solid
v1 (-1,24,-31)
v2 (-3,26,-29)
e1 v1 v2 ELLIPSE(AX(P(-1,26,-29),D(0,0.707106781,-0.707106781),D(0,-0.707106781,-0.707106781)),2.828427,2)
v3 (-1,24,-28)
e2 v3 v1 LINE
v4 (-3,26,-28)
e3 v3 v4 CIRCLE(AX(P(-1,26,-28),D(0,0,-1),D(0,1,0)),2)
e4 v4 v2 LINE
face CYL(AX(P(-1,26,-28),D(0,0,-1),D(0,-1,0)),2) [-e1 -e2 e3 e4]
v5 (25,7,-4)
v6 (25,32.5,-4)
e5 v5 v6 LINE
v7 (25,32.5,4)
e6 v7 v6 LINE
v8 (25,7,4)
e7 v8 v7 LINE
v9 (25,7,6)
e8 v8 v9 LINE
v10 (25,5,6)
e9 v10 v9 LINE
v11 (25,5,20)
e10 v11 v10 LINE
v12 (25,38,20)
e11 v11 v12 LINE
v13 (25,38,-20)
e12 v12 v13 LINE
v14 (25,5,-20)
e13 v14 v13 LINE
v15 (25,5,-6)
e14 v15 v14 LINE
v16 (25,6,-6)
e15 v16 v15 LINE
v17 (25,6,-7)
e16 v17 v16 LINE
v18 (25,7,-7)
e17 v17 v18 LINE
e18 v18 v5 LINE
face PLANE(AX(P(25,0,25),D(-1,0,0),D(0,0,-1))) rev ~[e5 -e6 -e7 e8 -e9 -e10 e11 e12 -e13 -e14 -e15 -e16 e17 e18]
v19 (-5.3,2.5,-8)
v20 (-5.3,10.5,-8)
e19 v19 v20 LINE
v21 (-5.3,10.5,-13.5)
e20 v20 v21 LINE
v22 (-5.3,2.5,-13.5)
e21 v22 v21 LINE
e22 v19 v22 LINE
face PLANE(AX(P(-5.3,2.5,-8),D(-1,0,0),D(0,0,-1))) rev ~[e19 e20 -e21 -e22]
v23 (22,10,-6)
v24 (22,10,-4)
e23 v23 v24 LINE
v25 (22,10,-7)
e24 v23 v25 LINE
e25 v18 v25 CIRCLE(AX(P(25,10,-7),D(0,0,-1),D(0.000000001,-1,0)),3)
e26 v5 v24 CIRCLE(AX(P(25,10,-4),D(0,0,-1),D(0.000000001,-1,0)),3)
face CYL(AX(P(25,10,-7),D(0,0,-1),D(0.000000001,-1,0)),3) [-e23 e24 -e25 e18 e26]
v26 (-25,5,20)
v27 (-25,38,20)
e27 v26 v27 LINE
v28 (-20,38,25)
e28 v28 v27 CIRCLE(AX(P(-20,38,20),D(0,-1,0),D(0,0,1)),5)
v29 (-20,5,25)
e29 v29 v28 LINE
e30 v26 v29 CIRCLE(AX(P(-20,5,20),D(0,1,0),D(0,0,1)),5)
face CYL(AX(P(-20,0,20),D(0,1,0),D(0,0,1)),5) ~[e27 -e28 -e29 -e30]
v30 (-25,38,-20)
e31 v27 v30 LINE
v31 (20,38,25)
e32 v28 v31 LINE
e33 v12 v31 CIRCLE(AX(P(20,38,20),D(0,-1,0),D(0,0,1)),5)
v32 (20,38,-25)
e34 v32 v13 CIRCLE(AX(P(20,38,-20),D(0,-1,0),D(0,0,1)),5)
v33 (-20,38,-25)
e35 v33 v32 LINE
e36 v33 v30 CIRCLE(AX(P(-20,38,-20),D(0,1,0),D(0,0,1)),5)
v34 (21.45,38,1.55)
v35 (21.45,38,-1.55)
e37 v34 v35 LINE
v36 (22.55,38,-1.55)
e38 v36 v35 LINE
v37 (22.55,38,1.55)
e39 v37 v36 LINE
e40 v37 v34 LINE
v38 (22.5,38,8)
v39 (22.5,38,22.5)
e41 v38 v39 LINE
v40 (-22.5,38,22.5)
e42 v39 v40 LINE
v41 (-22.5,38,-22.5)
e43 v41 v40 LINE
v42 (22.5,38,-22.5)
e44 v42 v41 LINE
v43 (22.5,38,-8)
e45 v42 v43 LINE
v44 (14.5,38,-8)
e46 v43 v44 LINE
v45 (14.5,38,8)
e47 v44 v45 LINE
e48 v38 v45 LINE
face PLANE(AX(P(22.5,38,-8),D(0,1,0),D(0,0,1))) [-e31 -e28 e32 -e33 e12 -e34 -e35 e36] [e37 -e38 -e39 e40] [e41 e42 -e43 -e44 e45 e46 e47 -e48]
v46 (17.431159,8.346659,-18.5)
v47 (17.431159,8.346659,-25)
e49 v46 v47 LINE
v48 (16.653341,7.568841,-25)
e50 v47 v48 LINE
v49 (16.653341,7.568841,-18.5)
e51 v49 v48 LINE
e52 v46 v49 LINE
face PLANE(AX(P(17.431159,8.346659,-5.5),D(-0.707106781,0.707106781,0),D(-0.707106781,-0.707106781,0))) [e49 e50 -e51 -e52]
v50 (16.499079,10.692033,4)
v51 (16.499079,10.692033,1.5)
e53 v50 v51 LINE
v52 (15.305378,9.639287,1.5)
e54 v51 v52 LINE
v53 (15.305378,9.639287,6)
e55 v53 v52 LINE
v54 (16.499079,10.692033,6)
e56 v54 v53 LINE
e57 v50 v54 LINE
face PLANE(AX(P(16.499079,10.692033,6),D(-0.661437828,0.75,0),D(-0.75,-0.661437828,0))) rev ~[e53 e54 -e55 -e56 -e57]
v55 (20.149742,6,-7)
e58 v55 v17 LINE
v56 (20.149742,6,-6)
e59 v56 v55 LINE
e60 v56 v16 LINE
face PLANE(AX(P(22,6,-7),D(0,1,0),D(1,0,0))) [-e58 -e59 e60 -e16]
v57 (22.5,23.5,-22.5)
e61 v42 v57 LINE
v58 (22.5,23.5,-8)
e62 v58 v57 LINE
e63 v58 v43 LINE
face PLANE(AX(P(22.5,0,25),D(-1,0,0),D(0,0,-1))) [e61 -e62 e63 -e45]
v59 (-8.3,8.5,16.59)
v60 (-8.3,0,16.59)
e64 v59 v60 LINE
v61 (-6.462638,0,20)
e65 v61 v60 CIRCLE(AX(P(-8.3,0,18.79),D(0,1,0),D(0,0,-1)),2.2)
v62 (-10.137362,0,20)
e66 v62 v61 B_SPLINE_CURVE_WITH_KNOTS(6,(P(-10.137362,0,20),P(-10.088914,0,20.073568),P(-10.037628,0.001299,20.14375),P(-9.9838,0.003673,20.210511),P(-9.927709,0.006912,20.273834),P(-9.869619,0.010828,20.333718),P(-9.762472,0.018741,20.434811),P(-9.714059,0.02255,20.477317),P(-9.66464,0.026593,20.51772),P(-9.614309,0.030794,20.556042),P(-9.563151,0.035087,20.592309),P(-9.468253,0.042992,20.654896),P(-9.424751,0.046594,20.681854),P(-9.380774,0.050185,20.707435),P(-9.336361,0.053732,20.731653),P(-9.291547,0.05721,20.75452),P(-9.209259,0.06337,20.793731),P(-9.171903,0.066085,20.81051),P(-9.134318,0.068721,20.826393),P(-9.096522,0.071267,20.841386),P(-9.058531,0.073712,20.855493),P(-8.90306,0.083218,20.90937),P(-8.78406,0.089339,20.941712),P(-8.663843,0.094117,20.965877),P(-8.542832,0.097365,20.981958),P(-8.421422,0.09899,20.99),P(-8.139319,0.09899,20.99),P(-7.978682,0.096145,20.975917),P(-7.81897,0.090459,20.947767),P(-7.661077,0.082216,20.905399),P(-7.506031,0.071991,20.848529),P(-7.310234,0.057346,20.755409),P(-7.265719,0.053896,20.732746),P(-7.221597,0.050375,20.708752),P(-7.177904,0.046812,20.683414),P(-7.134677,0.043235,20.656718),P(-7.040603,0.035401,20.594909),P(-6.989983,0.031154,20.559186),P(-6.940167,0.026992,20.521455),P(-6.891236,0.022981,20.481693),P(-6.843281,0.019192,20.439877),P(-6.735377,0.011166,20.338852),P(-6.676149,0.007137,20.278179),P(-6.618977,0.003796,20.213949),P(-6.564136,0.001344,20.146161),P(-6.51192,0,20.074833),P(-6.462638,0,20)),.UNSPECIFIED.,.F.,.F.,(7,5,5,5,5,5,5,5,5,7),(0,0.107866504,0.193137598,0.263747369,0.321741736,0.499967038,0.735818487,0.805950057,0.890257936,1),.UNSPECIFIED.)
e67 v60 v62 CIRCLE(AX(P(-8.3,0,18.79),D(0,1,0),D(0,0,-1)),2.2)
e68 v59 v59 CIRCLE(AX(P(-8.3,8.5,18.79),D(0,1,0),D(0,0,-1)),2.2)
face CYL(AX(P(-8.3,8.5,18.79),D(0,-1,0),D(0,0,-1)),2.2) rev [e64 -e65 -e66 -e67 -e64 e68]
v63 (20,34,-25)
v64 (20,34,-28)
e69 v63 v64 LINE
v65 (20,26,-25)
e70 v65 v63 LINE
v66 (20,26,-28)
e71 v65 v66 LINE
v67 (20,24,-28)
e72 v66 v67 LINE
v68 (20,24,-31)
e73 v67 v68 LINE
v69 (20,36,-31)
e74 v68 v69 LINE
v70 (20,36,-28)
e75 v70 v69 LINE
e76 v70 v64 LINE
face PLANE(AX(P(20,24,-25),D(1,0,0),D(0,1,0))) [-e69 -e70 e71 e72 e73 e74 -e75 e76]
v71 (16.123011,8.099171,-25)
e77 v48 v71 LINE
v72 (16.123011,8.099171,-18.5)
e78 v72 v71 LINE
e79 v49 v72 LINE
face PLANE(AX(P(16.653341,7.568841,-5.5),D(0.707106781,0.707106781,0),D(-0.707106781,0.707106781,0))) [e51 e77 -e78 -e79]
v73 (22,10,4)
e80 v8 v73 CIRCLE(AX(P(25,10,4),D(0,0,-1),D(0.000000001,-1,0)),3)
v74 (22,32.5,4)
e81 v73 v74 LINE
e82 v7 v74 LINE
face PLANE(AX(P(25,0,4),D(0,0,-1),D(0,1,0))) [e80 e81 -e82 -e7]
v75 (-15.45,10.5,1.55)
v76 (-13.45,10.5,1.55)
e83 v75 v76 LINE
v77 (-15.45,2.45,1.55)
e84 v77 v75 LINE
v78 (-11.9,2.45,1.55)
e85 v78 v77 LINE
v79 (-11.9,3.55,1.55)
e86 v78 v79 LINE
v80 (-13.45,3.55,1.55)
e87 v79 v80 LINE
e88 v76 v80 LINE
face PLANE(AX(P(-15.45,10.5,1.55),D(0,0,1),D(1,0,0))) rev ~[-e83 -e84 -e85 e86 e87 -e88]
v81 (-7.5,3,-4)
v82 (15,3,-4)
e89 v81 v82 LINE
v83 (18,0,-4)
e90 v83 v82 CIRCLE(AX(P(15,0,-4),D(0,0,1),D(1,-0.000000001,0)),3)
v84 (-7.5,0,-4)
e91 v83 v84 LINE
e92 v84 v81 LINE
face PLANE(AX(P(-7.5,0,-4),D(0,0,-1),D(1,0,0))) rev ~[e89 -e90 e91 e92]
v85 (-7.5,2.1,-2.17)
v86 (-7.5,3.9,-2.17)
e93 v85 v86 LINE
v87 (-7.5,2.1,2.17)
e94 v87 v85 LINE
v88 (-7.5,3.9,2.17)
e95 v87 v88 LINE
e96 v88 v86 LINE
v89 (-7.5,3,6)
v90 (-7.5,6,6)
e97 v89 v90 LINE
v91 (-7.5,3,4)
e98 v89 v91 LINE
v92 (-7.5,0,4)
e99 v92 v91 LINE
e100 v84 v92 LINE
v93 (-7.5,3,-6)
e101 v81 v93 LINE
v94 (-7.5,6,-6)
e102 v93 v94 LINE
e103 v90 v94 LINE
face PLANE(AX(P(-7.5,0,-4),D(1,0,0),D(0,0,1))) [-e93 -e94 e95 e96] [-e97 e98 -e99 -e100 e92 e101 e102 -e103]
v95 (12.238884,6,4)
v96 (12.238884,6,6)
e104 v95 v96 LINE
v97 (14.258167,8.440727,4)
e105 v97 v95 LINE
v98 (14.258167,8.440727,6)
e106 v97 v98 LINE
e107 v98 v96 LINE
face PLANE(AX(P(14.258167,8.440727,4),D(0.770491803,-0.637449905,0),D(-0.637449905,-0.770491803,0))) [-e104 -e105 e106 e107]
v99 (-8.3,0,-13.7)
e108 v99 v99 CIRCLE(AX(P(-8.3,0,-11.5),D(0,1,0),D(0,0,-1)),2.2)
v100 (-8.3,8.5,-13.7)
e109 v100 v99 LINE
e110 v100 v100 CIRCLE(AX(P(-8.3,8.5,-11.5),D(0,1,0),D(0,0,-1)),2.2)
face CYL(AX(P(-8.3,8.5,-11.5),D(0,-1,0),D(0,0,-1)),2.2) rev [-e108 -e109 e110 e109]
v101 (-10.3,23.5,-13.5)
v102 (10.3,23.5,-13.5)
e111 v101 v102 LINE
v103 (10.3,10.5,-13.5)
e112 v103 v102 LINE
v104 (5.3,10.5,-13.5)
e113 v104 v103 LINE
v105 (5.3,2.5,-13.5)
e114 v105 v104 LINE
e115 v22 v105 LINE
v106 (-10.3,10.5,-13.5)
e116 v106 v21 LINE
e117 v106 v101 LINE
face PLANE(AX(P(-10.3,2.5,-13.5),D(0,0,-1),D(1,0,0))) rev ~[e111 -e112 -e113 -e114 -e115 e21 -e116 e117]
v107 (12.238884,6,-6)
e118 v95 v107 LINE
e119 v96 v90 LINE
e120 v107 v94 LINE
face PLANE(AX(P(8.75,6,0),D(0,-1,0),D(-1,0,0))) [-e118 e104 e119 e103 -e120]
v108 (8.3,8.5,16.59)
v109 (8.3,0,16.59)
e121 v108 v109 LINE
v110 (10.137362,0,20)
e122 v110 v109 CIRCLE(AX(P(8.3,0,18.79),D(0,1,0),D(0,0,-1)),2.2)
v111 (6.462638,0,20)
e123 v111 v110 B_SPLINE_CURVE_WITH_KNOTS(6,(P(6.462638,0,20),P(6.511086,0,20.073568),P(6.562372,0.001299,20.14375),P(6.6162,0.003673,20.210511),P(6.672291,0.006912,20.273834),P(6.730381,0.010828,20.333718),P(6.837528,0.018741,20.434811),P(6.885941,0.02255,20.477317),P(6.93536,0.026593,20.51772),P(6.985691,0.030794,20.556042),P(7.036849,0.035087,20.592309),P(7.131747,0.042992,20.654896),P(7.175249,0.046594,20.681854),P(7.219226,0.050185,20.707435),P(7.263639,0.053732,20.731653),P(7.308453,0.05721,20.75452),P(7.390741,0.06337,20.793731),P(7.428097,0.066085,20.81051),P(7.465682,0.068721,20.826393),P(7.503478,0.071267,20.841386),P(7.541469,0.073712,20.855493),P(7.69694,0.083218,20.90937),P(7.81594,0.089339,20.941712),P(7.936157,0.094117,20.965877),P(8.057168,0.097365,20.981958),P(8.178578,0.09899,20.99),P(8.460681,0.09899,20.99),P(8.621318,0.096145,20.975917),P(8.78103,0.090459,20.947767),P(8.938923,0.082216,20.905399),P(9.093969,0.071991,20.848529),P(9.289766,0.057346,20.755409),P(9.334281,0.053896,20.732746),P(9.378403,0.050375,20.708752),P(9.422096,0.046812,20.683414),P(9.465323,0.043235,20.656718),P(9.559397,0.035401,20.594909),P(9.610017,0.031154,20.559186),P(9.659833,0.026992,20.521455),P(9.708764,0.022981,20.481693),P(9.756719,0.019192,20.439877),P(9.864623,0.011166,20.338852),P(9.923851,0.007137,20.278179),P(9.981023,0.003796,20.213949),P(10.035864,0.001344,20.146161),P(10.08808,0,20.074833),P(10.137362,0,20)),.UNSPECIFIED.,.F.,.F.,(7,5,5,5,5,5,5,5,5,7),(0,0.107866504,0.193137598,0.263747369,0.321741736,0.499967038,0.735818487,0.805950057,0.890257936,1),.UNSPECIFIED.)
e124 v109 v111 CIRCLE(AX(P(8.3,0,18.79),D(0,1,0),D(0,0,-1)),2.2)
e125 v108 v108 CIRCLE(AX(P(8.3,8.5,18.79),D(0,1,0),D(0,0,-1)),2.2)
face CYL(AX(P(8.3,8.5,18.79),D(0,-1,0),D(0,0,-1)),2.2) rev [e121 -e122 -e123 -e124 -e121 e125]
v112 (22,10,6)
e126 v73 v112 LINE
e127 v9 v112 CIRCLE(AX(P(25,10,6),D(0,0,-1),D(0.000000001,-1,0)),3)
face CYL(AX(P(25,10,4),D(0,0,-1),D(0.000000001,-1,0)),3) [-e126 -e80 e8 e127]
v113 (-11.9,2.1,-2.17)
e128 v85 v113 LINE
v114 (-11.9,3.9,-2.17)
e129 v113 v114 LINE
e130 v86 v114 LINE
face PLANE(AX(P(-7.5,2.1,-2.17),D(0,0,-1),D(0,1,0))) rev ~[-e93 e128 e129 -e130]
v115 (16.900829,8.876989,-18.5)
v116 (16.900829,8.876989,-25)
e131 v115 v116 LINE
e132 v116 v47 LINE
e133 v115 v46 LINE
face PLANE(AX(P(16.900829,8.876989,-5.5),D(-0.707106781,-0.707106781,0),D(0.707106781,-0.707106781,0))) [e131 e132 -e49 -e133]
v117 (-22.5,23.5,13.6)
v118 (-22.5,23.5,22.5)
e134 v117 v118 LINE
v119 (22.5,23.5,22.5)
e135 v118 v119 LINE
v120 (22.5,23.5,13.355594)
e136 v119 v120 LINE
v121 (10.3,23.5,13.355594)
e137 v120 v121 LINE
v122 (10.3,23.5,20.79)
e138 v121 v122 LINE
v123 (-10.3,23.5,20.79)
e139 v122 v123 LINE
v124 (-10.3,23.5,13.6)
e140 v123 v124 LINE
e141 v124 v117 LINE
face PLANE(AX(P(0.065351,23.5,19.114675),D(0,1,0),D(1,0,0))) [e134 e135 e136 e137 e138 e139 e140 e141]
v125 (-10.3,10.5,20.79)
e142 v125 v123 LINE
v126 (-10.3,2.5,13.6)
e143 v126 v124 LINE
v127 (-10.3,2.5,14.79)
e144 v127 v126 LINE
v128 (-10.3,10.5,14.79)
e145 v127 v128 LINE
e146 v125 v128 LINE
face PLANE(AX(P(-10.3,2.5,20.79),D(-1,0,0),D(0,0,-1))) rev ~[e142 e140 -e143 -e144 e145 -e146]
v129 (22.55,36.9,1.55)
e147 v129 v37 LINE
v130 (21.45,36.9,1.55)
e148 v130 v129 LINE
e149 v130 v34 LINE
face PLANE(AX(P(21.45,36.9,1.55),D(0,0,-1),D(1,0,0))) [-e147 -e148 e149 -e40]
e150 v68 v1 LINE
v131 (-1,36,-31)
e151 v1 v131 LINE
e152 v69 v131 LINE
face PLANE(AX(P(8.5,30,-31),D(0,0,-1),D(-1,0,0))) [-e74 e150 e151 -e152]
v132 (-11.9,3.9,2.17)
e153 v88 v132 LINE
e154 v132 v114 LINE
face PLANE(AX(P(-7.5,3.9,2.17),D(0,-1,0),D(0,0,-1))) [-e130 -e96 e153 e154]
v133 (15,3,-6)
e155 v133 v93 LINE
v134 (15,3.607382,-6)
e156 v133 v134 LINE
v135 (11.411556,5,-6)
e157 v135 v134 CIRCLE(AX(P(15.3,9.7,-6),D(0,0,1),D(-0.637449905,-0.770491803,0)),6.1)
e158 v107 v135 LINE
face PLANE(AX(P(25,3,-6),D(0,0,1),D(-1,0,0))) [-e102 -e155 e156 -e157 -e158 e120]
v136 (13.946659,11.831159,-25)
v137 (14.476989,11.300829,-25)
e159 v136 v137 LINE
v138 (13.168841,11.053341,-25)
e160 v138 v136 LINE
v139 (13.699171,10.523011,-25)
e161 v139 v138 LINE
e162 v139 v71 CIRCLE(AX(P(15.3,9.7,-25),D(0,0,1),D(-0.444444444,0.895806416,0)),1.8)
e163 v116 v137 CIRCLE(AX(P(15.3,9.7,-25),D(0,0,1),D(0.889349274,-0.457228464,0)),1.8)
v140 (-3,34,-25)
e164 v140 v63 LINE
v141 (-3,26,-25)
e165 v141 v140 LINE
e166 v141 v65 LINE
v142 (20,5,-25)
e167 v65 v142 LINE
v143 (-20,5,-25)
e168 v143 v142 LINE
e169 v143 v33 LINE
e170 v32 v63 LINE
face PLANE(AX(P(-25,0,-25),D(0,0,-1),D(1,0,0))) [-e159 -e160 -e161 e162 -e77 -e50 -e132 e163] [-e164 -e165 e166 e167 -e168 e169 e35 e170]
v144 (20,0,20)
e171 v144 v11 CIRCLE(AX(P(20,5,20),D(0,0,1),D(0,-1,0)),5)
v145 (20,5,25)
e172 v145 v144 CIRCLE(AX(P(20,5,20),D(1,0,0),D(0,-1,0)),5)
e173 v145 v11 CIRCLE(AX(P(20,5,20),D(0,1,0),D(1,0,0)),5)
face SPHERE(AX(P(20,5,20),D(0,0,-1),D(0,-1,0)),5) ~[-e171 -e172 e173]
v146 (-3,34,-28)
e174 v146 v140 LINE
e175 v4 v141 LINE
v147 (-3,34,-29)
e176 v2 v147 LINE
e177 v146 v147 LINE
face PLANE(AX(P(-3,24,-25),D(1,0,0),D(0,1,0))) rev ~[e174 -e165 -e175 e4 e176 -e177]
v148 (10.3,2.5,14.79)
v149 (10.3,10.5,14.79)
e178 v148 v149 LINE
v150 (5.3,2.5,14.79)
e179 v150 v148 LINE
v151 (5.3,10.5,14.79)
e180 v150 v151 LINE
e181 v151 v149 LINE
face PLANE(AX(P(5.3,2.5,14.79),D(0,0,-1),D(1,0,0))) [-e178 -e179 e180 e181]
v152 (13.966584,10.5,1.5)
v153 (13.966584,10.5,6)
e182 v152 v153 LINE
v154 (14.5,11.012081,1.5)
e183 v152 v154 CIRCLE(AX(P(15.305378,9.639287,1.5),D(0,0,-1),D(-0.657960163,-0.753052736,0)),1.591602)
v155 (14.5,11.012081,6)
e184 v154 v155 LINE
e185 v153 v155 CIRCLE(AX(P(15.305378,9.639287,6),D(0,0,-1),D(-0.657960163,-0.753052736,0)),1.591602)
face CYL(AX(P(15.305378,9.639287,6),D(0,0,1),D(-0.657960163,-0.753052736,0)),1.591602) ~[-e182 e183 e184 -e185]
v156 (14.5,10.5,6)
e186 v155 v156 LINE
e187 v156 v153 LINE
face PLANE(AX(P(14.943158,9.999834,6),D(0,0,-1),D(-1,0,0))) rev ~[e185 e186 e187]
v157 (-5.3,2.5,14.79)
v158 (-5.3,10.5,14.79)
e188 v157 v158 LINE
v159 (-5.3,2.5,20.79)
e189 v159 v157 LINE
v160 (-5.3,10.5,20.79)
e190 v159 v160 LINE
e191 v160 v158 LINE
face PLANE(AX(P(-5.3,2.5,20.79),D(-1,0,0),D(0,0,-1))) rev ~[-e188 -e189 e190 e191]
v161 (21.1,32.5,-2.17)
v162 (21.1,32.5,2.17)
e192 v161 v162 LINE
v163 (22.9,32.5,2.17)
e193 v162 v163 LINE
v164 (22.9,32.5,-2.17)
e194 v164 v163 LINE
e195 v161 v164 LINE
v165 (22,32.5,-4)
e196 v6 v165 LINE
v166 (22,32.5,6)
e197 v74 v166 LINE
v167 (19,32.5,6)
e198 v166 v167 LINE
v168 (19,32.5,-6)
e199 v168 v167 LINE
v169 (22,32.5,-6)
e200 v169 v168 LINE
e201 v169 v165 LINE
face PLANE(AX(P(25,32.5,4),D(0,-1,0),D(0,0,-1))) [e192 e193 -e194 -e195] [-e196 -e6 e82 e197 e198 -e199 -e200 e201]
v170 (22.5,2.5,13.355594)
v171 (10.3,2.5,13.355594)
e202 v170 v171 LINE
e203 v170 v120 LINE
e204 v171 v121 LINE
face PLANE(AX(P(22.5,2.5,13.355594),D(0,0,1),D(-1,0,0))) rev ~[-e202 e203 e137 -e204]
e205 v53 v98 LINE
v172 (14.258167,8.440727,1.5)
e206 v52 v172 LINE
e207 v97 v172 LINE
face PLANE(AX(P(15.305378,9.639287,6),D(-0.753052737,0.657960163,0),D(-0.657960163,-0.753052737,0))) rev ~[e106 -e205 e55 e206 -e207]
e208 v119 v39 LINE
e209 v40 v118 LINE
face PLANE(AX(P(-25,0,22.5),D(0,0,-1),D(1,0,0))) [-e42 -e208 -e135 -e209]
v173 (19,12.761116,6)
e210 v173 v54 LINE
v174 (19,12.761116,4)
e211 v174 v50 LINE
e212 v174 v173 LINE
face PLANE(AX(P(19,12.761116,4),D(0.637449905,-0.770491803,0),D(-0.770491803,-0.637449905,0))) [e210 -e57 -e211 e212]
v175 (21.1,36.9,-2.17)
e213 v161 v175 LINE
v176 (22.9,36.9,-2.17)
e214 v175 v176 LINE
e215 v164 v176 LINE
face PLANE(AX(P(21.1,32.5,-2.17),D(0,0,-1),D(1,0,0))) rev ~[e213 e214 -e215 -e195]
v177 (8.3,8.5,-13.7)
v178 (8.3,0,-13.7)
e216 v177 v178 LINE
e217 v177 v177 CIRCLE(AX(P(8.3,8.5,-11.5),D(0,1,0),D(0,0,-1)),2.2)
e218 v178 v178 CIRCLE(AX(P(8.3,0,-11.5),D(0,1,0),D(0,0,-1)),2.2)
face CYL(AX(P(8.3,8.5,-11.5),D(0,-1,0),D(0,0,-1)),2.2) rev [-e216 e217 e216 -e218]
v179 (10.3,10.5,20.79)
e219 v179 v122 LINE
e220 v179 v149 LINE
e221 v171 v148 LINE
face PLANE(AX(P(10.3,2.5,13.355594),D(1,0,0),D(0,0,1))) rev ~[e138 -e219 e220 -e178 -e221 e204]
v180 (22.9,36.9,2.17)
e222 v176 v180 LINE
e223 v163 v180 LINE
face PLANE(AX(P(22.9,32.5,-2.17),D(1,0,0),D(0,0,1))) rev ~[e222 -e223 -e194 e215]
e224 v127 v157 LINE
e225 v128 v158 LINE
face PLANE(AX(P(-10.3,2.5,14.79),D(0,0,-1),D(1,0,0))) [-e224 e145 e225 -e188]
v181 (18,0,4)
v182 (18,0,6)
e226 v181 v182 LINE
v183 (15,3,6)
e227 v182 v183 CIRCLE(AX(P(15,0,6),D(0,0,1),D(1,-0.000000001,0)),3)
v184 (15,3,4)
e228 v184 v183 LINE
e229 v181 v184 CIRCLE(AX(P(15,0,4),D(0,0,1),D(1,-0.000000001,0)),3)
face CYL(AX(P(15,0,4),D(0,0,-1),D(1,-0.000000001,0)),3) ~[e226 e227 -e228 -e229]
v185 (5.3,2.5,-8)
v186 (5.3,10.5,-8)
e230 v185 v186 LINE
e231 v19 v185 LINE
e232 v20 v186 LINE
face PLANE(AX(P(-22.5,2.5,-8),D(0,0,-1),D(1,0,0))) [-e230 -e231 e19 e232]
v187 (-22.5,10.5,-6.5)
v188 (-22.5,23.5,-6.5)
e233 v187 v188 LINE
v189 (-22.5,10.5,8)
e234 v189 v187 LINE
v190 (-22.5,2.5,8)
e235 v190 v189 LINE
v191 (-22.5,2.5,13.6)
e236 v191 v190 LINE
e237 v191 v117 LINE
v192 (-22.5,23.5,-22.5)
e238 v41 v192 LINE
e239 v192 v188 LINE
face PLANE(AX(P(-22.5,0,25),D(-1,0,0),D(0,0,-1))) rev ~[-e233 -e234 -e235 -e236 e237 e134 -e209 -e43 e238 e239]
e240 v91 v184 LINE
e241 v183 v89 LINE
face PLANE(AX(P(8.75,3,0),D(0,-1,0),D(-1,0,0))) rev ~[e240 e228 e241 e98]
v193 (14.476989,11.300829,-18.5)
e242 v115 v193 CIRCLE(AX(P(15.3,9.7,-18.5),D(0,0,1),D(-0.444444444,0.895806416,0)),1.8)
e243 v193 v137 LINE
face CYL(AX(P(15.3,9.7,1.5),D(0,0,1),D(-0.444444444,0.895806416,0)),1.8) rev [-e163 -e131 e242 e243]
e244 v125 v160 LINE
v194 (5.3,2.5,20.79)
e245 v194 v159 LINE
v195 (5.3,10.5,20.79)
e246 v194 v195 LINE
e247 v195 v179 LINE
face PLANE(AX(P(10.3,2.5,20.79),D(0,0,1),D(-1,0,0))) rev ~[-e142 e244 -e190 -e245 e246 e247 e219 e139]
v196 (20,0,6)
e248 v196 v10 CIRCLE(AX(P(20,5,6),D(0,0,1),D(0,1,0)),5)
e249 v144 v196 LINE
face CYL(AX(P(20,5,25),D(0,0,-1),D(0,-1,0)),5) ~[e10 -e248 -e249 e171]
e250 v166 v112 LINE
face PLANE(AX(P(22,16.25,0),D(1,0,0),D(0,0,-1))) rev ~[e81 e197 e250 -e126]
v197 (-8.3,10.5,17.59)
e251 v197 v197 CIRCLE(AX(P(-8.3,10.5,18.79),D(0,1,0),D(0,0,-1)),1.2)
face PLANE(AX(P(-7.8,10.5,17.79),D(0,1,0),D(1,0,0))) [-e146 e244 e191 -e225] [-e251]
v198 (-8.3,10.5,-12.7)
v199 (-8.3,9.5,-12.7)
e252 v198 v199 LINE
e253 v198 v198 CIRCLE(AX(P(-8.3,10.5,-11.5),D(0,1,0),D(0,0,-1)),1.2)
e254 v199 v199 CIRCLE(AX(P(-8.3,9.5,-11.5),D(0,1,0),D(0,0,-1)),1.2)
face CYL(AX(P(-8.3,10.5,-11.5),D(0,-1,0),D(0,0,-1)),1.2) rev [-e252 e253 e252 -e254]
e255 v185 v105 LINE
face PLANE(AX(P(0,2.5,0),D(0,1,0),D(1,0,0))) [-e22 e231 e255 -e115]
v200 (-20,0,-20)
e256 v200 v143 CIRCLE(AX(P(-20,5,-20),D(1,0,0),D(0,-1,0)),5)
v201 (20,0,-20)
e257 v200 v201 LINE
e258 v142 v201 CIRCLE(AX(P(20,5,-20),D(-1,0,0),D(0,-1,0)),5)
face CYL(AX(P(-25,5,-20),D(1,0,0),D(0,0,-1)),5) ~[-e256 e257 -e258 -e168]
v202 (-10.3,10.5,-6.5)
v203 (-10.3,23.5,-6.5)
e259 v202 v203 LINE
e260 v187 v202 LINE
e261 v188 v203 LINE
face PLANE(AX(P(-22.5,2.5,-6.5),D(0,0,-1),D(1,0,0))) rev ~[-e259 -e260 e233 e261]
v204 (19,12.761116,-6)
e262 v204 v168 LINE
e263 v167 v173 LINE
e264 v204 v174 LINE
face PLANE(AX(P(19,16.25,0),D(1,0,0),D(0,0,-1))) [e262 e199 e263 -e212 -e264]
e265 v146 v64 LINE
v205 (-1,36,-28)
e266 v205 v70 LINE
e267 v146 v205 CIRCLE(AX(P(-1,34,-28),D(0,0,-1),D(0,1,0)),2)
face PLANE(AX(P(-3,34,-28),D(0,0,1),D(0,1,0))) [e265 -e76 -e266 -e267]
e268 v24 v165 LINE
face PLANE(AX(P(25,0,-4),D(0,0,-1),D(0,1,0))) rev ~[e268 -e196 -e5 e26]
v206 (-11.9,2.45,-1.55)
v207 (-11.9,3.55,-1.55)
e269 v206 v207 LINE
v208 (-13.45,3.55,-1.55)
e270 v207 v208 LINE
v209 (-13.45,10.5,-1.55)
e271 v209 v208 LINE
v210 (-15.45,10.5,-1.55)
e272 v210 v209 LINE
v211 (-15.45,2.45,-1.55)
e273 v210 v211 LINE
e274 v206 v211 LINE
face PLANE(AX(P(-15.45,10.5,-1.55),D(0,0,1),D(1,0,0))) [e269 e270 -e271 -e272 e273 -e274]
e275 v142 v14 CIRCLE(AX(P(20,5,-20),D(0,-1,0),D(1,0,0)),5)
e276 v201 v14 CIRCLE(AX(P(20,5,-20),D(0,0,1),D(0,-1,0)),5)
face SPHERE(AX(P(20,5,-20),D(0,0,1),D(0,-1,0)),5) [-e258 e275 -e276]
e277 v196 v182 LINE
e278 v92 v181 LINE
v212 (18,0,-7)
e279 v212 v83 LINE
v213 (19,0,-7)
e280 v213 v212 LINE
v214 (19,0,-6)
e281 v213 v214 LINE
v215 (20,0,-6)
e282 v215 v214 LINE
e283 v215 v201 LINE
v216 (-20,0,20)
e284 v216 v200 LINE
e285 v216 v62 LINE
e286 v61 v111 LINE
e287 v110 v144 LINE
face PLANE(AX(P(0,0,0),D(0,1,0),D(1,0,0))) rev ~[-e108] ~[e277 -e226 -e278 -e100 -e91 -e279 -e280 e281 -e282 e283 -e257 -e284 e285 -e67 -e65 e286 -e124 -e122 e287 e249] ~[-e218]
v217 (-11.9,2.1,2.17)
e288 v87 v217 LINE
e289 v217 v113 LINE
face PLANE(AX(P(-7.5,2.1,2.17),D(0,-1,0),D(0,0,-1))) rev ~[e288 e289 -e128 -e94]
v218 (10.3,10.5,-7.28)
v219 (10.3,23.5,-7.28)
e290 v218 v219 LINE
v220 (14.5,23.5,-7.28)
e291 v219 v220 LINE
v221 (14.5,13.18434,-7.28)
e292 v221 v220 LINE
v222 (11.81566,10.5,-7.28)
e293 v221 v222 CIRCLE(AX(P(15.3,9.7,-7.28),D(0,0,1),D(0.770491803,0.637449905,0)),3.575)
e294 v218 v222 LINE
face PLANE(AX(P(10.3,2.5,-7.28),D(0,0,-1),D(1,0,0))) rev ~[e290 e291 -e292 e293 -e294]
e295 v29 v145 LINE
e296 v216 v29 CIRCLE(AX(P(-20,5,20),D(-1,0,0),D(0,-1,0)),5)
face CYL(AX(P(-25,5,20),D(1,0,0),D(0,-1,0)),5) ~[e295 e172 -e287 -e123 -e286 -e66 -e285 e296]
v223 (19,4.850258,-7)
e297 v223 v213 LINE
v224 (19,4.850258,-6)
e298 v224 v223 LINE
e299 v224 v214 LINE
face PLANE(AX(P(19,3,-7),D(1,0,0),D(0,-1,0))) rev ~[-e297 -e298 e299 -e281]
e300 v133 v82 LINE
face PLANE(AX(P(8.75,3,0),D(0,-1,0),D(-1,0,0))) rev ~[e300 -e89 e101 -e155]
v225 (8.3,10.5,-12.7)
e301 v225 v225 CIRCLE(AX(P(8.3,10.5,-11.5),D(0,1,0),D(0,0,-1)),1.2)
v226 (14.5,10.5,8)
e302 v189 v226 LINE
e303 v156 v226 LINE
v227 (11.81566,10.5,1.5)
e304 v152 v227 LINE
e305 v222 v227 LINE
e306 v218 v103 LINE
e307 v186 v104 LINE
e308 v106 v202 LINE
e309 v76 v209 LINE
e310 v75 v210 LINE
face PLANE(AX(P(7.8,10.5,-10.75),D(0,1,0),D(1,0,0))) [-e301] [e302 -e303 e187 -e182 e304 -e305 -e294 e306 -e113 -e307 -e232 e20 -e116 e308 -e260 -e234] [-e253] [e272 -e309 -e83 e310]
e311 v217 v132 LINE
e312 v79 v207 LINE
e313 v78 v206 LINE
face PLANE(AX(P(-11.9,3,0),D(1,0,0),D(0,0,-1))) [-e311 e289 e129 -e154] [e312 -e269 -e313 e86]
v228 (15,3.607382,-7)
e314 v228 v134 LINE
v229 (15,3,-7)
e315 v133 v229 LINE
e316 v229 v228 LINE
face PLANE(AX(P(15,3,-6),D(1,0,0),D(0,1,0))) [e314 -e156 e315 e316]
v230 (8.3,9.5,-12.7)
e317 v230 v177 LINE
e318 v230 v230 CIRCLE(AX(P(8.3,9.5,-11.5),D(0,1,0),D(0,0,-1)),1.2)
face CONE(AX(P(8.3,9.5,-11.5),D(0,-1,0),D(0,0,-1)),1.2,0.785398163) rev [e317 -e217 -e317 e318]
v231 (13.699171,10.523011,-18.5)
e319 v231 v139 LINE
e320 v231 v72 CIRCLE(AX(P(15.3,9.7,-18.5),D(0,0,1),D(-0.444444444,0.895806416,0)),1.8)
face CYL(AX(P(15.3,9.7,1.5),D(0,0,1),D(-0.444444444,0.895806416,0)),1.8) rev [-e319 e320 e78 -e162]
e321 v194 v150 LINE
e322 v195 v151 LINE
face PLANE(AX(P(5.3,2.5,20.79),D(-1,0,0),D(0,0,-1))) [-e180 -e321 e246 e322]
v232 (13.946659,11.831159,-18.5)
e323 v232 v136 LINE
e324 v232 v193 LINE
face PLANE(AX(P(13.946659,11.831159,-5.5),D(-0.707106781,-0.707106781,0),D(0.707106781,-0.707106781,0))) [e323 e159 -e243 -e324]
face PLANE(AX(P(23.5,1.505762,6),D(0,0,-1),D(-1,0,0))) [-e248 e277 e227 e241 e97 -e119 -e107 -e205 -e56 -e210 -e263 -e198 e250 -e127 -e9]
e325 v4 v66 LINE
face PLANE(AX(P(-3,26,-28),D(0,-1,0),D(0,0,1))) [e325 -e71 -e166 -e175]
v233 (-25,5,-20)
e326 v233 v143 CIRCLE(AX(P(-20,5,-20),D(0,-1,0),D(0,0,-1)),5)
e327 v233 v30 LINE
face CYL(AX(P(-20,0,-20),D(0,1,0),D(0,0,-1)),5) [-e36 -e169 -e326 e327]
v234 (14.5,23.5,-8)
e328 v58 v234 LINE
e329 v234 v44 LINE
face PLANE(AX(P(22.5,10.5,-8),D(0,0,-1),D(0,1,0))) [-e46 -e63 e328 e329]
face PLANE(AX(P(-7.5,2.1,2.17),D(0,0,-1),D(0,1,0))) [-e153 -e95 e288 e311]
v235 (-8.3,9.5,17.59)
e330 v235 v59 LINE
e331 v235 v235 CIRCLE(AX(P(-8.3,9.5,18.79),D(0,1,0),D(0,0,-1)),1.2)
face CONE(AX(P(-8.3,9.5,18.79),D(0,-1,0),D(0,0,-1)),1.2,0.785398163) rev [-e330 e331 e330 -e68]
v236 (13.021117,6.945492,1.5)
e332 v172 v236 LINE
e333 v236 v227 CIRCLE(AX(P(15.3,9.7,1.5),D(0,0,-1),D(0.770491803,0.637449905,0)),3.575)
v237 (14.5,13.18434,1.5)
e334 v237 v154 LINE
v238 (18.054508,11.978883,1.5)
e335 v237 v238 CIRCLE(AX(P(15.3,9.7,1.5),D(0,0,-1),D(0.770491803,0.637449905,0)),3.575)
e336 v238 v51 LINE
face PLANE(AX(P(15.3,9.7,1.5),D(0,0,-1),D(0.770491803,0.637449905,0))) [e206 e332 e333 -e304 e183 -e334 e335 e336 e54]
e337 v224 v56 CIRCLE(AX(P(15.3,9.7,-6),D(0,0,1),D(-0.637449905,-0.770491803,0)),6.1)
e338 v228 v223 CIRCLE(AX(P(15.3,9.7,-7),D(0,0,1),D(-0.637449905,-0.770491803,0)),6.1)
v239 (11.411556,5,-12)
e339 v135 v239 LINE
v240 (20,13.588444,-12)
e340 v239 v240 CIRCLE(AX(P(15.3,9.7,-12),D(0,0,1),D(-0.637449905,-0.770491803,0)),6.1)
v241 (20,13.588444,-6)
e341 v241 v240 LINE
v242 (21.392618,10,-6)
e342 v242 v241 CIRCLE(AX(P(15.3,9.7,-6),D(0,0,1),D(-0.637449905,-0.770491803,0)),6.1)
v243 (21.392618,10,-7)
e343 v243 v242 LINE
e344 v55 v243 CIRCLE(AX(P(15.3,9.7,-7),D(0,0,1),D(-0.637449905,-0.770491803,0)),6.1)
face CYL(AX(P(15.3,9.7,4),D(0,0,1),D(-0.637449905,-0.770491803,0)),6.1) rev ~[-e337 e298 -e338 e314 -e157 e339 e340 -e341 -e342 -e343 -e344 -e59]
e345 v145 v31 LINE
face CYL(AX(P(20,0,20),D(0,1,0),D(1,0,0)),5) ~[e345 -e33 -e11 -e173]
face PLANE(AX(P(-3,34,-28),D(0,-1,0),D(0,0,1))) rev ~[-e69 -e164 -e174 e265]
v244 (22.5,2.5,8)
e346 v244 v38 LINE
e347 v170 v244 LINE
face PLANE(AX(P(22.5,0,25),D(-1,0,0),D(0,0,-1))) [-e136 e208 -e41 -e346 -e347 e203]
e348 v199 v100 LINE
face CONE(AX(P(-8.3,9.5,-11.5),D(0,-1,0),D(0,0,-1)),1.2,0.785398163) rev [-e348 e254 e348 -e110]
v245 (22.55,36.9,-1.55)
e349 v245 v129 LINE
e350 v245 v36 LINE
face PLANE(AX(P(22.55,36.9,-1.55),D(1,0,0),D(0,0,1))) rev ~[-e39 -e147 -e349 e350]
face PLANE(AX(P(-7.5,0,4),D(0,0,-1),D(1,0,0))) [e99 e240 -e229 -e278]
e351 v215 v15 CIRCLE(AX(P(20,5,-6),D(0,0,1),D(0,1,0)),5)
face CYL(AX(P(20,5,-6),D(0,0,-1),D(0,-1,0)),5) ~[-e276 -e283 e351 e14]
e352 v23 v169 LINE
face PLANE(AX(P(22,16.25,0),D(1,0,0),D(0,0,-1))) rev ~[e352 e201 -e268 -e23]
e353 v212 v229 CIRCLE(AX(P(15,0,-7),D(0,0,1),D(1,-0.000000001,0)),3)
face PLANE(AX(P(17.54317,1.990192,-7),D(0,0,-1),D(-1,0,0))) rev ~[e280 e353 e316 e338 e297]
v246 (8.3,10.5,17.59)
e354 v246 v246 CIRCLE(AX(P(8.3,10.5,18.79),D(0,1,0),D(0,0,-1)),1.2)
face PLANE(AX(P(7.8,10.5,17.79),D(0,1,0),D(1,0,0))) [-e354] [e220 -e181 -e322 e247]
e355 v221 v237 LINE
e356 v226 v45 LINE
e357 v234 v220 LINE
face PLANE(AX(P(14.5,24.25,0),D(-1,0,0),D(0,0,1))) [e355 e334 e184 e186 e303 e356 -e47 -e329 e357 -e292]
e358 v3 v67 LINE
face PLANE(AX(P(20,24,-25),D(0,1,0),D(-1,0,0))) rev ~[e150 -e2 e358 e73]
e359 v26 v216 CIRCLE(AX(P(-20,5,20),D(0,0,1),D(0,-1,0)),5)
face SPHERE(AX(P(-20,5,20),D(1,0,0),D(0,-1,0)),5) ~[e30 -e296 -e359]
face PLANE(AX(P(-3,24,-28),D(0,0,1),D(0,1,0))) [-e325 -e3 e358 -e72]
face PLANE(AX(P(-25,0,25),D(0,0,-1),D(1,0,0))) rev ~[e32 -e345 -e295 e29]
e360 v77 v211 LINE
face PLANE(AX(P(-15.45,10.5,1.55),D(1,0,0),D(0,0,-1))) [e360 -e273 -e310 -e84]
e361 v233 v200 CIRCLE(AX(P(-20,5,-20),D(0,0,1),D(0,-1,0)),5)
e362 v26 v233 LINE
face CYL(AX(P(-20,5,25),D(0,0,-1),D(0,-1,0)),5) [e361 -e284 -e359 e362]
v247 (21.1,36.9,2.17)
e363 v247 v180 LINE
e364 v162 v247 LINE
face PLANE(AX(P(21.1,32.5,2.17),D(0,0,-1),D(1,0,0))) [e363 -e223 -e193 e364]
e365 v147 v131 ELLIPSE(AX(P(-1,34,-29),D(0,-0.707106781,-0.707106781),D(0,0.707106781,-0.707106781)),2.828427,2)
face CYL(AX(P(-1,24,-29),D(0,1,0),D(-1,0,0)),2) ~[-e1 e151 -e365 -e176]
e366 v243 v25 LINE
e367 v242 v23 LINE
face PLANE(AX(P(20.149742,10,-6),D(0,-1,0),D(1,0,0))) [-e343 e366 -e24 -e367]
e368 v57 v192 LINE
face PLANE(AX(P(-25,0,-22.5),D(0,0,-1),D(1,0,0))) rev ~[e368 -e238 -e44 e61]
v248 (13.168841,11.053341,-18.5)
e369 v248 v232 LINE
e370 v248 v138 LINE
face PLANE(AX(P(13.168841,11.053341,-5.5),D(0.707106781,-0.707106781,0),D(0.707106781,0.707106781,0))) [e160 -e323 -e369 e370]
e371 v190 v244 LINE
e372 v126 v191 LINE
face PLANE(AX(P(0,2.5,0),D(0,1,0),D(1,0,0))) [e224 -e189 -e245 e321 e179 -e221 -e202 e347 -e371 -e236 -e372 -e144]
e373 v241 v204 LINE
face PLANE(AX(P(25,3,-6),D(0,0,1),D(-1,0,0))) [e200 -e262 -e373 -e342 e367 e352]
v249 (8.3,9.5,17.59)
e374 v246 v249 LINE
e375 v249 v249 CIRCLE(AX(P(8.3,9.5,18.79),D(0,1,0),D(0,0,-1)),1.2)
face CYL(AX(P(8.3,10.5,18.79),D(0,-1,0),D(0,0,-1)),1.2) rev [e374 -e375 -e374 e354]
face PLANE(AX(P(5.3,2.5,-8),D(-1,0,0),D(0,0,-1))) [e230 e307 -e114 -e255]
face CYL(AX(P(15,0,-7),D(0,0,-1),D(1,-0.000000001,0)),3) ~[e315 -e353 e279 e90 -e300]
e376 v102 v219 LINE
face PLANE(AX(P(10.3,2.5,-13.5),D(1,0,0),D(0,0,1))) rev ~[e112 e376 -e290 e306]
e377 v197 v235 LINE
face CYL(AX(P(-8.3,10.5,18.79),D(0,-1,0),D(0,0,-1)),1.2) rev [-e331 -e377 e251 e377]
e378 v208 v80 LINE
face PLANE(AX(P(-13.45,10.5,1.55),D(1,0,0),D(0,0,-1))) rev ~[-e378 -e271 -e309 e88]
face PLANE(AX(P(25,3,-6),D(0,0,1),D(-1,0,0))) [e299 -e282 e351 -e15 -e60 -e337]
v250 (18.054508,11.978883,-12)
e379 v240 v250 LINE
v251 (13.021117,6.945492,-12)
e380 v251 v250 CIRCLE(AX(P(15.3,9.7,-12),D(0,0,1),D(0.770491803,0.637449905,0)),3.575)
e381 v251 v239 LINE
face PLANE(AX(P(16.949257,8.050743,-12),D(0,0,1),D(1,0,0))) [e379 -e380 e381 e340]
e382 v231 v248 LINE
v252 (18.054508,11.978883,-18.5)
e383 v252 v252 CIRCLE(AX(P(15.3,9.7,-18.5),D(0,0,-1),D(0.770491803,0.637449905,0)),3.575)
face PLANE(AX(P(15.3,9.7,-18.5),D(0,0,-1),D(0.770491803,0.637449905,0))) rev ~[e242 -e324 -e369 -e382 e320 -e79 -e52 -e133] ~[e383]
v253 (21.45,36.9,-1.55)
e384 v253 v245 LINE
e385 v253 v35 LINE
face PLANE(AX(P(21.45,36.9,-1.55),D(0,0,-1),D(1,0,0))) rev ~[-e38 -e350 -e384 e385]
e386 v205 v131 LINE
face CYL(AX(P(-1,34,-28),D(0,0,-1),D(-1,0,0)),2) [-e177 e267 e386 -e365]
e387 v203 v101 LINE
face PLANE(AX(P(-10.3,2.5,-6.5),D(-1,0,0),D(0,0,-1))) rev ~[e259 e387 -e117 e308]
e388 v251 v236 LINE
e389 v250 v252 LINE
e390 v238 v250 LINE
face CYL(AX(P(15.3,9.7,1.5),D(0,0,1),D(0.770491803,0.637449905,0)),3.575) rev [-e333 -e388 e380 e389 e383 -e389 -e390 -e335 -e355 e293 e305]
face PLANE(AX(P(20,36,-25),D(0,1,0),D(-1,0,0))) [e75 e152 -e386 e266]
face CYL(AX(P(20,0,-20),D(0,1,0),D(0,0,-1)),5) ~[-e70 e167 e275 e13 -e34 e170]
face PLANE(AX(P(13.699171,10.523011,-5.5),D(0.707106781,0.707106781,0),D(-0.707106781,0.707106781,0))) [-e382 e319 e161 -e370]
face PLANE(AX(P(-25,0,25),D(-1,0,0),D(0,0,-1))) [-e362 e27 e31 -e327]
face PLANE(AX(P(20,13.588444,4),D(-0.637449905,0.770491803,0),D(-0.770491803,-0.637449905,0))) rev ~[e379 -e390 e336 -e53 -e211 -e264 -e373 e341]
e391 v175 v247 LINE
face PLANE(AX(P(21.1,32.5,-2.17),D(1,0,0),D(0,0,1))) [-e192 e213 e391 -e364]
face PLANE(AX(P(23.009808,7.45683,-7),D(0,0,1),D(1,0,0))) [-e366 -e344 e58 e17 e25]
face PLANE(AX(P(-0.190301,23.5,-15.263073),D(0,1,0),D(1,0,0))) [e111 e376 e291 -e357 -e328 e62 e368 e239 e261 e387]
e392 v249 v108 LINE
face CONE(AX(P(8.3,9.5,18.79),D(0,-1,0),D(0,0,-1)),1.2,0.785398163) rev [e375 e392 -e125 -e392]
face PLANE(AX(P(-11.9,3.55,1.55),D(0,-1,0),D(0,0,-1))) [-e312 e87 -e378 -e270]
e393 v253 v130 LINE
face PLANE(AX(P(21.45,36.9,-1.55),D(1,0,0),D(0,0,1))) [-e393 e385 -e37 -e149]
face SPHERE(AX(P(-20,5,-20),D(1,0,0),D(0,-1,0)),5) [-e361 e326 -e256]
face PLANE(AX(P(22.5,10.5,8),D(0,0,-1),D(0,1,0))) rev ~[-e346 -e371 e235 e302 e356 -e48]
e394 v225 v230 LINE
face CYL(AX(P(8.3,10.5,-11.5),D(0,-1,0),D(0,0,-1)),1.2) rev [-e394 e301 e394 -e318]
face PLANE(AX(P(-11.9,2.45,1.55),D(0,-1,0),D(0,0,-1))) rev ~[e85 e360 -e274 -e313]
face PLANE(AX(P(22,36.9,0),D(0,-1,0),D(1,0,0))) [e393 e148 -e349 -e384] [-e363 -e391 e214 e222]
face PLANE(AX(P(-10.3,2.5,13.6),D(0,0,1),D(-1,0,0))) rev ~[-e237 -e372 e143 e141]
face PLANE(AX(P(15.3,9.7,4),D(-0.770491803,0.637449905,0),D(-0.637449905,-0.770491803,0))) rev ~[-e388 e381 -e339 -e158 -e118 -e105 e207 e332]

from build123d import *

# Parameters (mm, degrees)
SKETCH1_W                                      = 50
SKETCH1_H                                      = 50
BOSS_EXTRUDE1_DEPTH                            = 38
SHELL1_T                                       = -2.5
BOSS_EXTRUDE2_DEPTH                            = 21
SKETCH3_W                                      = 45
SKETCH3_H                                      = 16
BOSS_EXTRUDE3_DEPTH                            = 8
SKETCH4_W                                      = 32.5
SKETCH4_H                                      = 8
CUT_EXTRUDE1_DEPTH                             = 3
SKETCH7_W                                      = 32.5
SKETCH7_H                                      = 12
CUT_EXTRUDE2_DEPTH                             = 3
SKETCH8_W                                      = 16
SKETCH8_H                                      = 27.5
BOSS_EXTRUDE4_DEPTH                            = 8
SKETCH9_W                                      = 8
SKETCH9_H                                      = 32.5
CUT_EXTRUDE3_DEPTH                             = 3
CUT_EXTRUDE5_DEPTH                             = 3
CUT_EXTRUDE7_DEPTH                             = 10
CUT_EXTRUDE7_DEPTH_BACK                        = 2
SKETCH13_W                                     = 3
SKETCH13_H                                     = 3.011524732
FILLET1_R                                      = 5
SKETCH16_R                                     = 1.8
CUT_EXTRUDE8_DEPTH                             = 53.642663306
SKETCH17_W                                     = 23
SKETCH17_H                                     = 12
BOSS_EXTRUDE5_DEPTH                            = 6
SKETCH18_W                                     = 3
SKETCH18_H                                     = 2
CUT_EXTRUDE9_DEPTH                             = 57.471231614
CUT_EXTRUDE12_DEPTH                            = 2
CUT_EXTRUDE13_DEPTH                            = 2
CUT_EXTRUDE14_DEPTH                            = 16
CUT_EXTRUDE10_START                            = -19.5
CUT_EXTRUDE10_DEPTH                            = 19.5
FILLET4_R                                      = 2
BOSS_EXTRUDE6_DEPTH                            = 4.5
SKETCH30_W                                     = 4.34
SKETCH30_H                                     = 1.8
CUT_EXTRUDE19_DEPTH                            = 4.4
SKETCH31_W                                     = 1.8
SKETCH31_H                                     = 4.34
CUT_EXTRUDE20_DEPTH                            = 4.4
SKETCH32_W                                     = 1.1
SKETCH32_H                                     = 3.1
CUT_EXTRUDE21_DEPTH                            = 55.291896265
SKETCH33_W                                     = 3.1
SKETCH33_H                                     = 1.1
CUT_EXTRUDE22_DEPTH                            = 3.55
SKETCH34_W                                     = 2
SKETCH34_H                                     = 3.1
CUT_EXTRUDE23_DEPTH                            = 7.3
SKETCH35_W                                     = 5
SKETCH35_H                                     = 5.5
BOSS_EXTRUDE7_DEPTH                            = 8
SKETCH36_W                                     = 5
SKETCH36_H                                     = 6
BOSS_EXTRUDE8_DEPTH                            = 8
CSK_SLOT_FOR_M2_COUNTERSUNK_FLAT_HEA_2_COUNT   = 2
CSK_SLOT_FOR_M2_COUNTERSUNK_FLAT_HEA_2_PITCH   = 16.6
CSK_SLOT_FOR_M2_COUNTERSUNK_FLAT_HEA_3_A_COUNT = 2
CSK_SLOT_FOR_M2_COUNTERSUNK_FLAT_HEA_3_A_PITCH = 16.6
SKETCH45_R                                     = 3.575
CUT_EXTRUDE27_DEPTH                            = 20
SKETCH46_W                                     = 1.850257739
SKETCH46_H                                     = 4
SKETCH46_W_2                                   = 4
SKETCH46_H_2                                   = 1.850257739
CUT_EXTRUDE28_DEPTH                            = 1
CUT_EXTRUDE25_START                            = -3
CUT_EXTRUDE25_DEPTH                            = 3
CUT_EXTRUDE24_START                            = -3
CUT_EXTRUDE24_DEPTH                            = 3
CUT_EXTRUDE29_DEPTH                            = 2


with BuildPart() as part:
    # Sketch1 → Boss-Extrude1 (new body)
    with BuildSketch(Plane(origin=(0, 0, 0), x_dir=(1, 0, 0), z_dir=(0, 1, 0))):
        Rectangle(SKETCH1_W, SKETCH1_H)
    extrude(amount=BOSS_EXTRUDE1_DEPTH)

    # Shell1
    shell1_openings = [part.faces().sort_by_distance(p)[0] for p in [
        (0, 38, 0),
    ]]
    offset(amount=SHELL1_T, openings=shell1_openings, kind=Kind.INTERSECTION)

    # Sketch2 → Boss-Extrude2 (add)
    with BuildSketch(Plane(origin=(0, 2.5, 0), x_dir=(1, 0, 0), z_dir=(0, 1, 0))):
        Polygon((-10.3, -13.6), (-22.5, -13.6), (-22.5, -22.5), (0.190053949, -22.5), (22.5, -22.5), (22.5, -13.355593994), (10.3, -13.355593994), (10.3, -20.79), (0.190053949, -20.79), (-10.3, -20.79), align=None)
        Polygon((-22.5, 6.5), (-10.3, 6.5), (-10.3, 13.5), (0, 13.5), (10.3, 13.5), (10.3, 7.28), (22.5, 7.28), (22.5, 22.5), (0, 22.5), (-22.5, 22.5), align=None)
    extrude(amount=BOSS_EXTRUDE2_DEPTH)

    # Sketch3 → Boss-Extrude3 (add)
    with BuildSketch(Plane(origin=(0, 2.5, 0), x_dir=(1, 0, 0), z_dir=(0, 1, 0))):
        Rectangle(SKETCH3_W, SKETCH3_H)
    extrude(amount=BOSS_EXTRUDE3_DEPTH)

    # Sketch4 → Cut-Extrude1 (cut)
    with BuildSketch(Plane.XZ):
        with Locations((8.75, 0)):
            Rectangle(SKETCH4_W, SKETCH4_H)
    extrude(amount=-CUT_EXTRUDE1_DEPTH, mode=Mode.SUBTRACT)

    # Sketch7 → Cut-Extrude2 (cut)
    with BuildSketch(Plane(origin=(0, 3, 0), x_dir=(-1, 0, 0), z_dir=(0, -1, 0))):
        with Locations((-8.75, 0)):
            Rectangle(SKETCH7_W, SKETCH7_H)
    extrude(amount=-CUT_EXTRUDE2_DEPTH, mode=Mode.SUBTRACT)

    # Sketch8 → Boss-Extrude4 (add)
    with BuildSketch(Plane.ZY.offset(-22.5)):
        with Locations((0, 24.25)):
            Rectangle(SKETCH8_W, SKETCH8_H)
    extrude(amount=BOSS_EXTRUDE4_DEPTH)

    # Sketch9 → Cut-Extrude3 (cut)
    with BuildSketch(Plane(origin=(25, 0, 0), x_dir=(0, 0, -1), z_dir=(1, 0, 0))):
        with Locations((0, 16.25)):
            Rectangle(SKETCH9_W, SKETCH9_H)
    extrude(amount=-CUT_EXTRUDE3_DEPTH, mode=Mode.SUBTRACT)

    # Sketch10 → Cut-Extrude5 (cut)
    with BuildSketch(Plane(origin=(22, 0, 0), x_dir=(0, 0, -1), z_dir=(1, 0, 0))):
        Polygon((-6, 32.5), (-6, 0), (6, 0), (6, 3), (6, 32.5), align=None)
    extrude(amount=-CUT_EXTRUDE5_DEPTH, mode=Mode.SUBTRACT)

    # Sketch13 → Cut-Extrude7 (cut, two sides: drawn at the far end of the back side and taken through both)
    with BuildSketch(Plane(origin=(0, 0, 4), x_dir=(-1, 0, 0), z_dir=(0, 0, -1)).offset(-CUT_EXTRUDE7_DEPTH_BACK)):
        with Locations((-23.5, 1.505762366)):
            Rectangle(SKETCH13_W, SKETCH13_H)
    extrude(amount=CUT_EXTRUDE7_DEPTH + CUT_EXTRUDE7_DEPTH_BACK, mode=Mode.SUBTRACT)

    # Fillet1
    fillet1_edges = [part.edges().sort_by_distance(p)[0] for p in [
        (25, 0, -15.5),
        (0, 0, -25),
        (25, 0, 15.5),
        (0, 0, 25),
        (-25, 0, 0),
        (-25, 19, -25),
        (25, 19, -25),
        (25, 19, 25),
        (-25, 19, 25),
    ]]
    fillet(fillet1_edges, radius=FILLET1_R)

    # Sketch16 → Cut-Extrude8 (cut, through all)
    with BuildSketch(Plane(origin=(0, 0, 1.5), x_dir=(-1, 0, 0), z_dir=(0, 0, -1))):
        with Locations(Location((-15.3, 9.7, 0), (0, 0, 63.612200039))):
            Circle(SKETCH16_R)
    extrude(amount=CUT_EXTRUDE8_DEPTH, mode=Mode.SUBTRACT)

    # Sketch17 → Boss-Extrude5 (add)
    with BuildSketch(Plane(origin=(0, 0, -25), x_dir=(-1, 0, 0), z_dir=(0, 0, -1))):
        with Locations((-8.5, 30)):
            Rectangle(SKETCH17_W, SKETCH17_H)
    extrude(amount=BOSS_EXTRUDE5_DEPTH)

    # Sketch18 → Cut-Extrude9 (cut, through all)
    with BuildSketch(Plane.ZY.offset(3)):
        with Locations((-26.5, 25)):
            Rectangle(SKETCH18_W, SKETCH18_H)
        with Locations((-26.5, 35)):
            Rectangle(SKETCH18_W, SKETCH18_H)
    extrude(amount=-CUT_EXTRUDE9_DEPTH, mode=Mode.SUBTRACT)

    # Sketch20 → Cut-Extrude12 (cut)
    with BuildSketch(Plane(origin=(0, 0, 4), x_dir=(-1, 0, 0), z_dir=(0, 0, -1))):
        with BuildLine():
            Line((-22, 10), (-22, 7))
            Line((-22, 7), (-22, 6))
            Line((-22, 6), (-24, 6))
            Line((-24, 6), (-25, 6))
            Line((-25, 6), (-25, 7))
            ThreePointArc((-25, 7), (-22.878679656, 7.878679656), (-22, 10))
        make_face()
    extrude(amount=-CUT_EXTRUDE12_DEPTH, mode=Mode.SUBTRACT)

    # Sketch21 → Cut-Extrude13 (cut)
    with BuildSketch(Plane(origin=(0, 0, 4), x_dir=(-1, 0, 0), z_dir=(0, 0, -1))):
        with BuildLine():
            Line((-19, 3), (-19, 0))
            Line((-19, 0), (-18, 0))
            ThreePointArc((-18, 0), (-17.121320344, 2.121320344), (-15, 3))
            Line((-15, 3), (-19, 3))
        make_face()
    extrude(amount=-CUT_EXTRUDE13_DEPTH, mode=Mode.SUBTRACT)

    # Sketch22 → Cut-Extrude14 (cut)
    with BuildSketch(Plane(origin=(0, 0, 4), x_dir=(-1, 0, 0), z_dir=(0, 0, -1))):
        with BuildLine():
            Line((-15.3, 9.7), (-11.411555581, 5))
            ThreePointArc((-11.411555581, 5), (-19.613351365, 5.386648635), (-20, 13.588444419))
            Line((-20, 13.588444419), (-15.3, 9.7))
        make_face()
    extrude(amount=CUT_EXTRUDE14_DEPTH, mode=Mode.SUBTRACT)

    # Sketch19 → Cut-Extrude10 (cut)
    with BuildSketch(Plane(origin=(0, 0, -25), x_dir=(-1, 0, 0), z_dir=(0, 0, -1)).offset(CUT_EXTRUDE10_START)):
        with BuildLine():
            ThreePointArc((-16.123011235, 8.099171306), (-16.572792206, 8.427207794), (-16.900828694, 8.876988765))
            Line((-16.900828694, 8.876988765), (-17.43115878, 8.346658679))
            Line((-17.43115878, 8.346658679), (-16.653341321, 7.56884122))
            Line((-16.653341321, 7.56884122), (-16.123011235, 8.099171306))
        make_face()
        with BuildLine():
            ThreePointArc((-14.476988765, 11.300828694), (-14.027207794, 10.972792206), (-13.699171306, 10.523011235))
            Line((-13.699171306, 10.523011235), (-13.16884122, 11.053341321))
            Line((-13.16884122, 11.053341321), (-13.946658679, 11.83115878))
            Line((-13.946658679, 11.83115878), (-14.476988765, 11.300828694))
        make_face()
    extrude(amount=CUT_EXTRUDE10_DEPTH, mode=Mode.SUBTRACT)

    # Fillet4
    fillet4_edges = [part.edges().sort_by_distance(p)[0] for p in [
        (-3, 36, -29.5),
        (-3, 24, -29.5),
        (-3, 30, -31),
    ]]
    fillet(fillet4_edges, radius=FILLET4_R)

    # Sketch29 → Boss-Extrude6 (add)
    with BuildSketch(Plane(origin=(0, 0, 6), x_dir=(-1, 0, 0), z_dir=(0, 0, -1))):
        with BuildLine():
            Line((-16.499079266, 10.69203257), (-15.305377807, 9.639286837))
            Line((-15.305377807, 9.639286837), (-14.258167132, 8.440726637))
            ThreePointArc((-14.258167132, 8.440726637), (-14.177344347, 10.762112408), (-16.499079266, 10.69203257))
        make_face()
    extrude(amount=BOSS_EXTRUDE6_DEPTH)

    # Sketch30 → Cut-Extrude19 (cut)
    with BuildSketch(Plane(origin=(-7.5, 0, 0), x_dir=(0, 0, -1), z_dir=(1, 0, 0))):
        with Locations((0, 3)):
            Rectangle(SKETCH30_W, SKETCH30_H)
    extrude(amount=-CUT_EXTRUDE19_DEPTH, mode=Mode.SUBTRACT)

    # Sketch31 → Cut-Extrude20 (cut)
    with BuildSketch(Plane.XZ.offset(-32.5)):
        with Locations((22, 0)):
            Rectangle(SKETCH31_W, SKETCH31_H)
    extrude(amount=-CUT_EXTRUDE20_DEPTH, mode=Mode.SUBTRACT)

    # Sketch32 → Cut-Extrude21 (cut, through all)
    with BuildSketch(Plane.XZ.offset(-36.9)):
        with Locations((22, 0)):
            Rectangle(SKETCH32_W, SKETCH32_H)
    extrude(amount=-CUT_EXTRUDE21_DEPTH, mode=Mode.SUBTRACT)

    # Sketch33 → Cut-Extrude22 (cut)
    with BuildSketch(Plane(origin=(-11.9, 0, 0), x_dir=(0, 0, -1), z_dir=(1, 0, 0))):
        with Locations((0, 3)):
            Rectangle(SKETCH33_W, SKETCH33_H)
    extrude(amount=-CUT_EXTRUDE22_DEPTH, mode=Mode.SUBTRACT)

    # Sketch34 → Cut-Extrude23 (cut)
    with BuildSketch(Plane(origin=(0, 10.5, 0), x_dir=(1, 0, 0), z_dir=(0, 1, 0))):
        with Locations((-14.45, 0)):
            Rectangle(SKETCH34_W, SKETCH34_H)
    extrude(amount=-CUT_EXTRUDE23_DEPTH, mode=Mode.SUBTRACT)

    # Sketch35 → Boss-Extrude7 (add)
    with BuildSketch(Plane(origin=(0, 2.5, 0), x_dir=(1, 0, 0), z_dir=(0, 1, 0))):
        with Locations((7.8, 10.75)):
            Rectangle(SKETCH35_W, SKETCH35_H)
        with Locations((-7.8, 10.75)):
            Rectangle(SKETCH35_W, SKETCH35_H)
    extrude(amount=BOSS_EXTRUDE7_DEPTH)

    # Sketch36 → Boss-Extrude8 (add)
    with BuildSketch(Plane(origin=(0, 2.5, 0), x_dir=(1, 0, 0), z_dir=(0, 1, 0))):
        with Locations((-7.8, -17.79)):
            Rectangle(SKETCH36_W, SKETCH36_H)
        with Locations((7.8, -17.79)):
            Rectangle(SKETCH36_W, SKETCH36_H)
    extrude(amount=BOSS_EXTRUDE8_DEPTH)

    # Sketch39 → CSK SLOT for M2 Countersunk Flat Head Sc (revolve, cut)
    with BuildSketch(Plane(origin=(8.3, 0, -11.5), x_dir=(0, 0, -1), z_dir=(1, 0, 0))):
        Polygon((0, 0), (0, 11.221032743), (1.2, 10.5), (1.2, 9.5), (2.2, 8.5), (2.2, 0), align=None)
    csk_slot_for_m2_countersunk_flat_head_sc = revolve(axis=Axis((8.3, -6.35, -11.5), (0, 1, 0)), mode=Mode.SUBTRACT)

    # CSK SLOT for M2 Countersunk Flat Hea 2: CSK SLOT for M2 Countersunk Flat Head Sc ×2
    with Locations(*[(-i * CSK_SLOT_FOR_M2_COUNTERSUNK_FLAT_HEA_2_PITCH, 0, 0) for i in range(1, CSK_SLOT_FOR_M2_COUNTERSUNK_FLAT_HEA_2_COUNT)]):
        add(csk_slot_for_m2_countersunk_flat_head_sc, mode=Mode.SUBTRACT)

    # Sketch41 → CSK SLOT for M2 Countersunk Flat Hea 3 (revolve, cut)
    with BuildSketch(Plane(origin=(8.3, 0, 18.79), x_dir=(0, 0, -1), z_dir=(1, 0, 0))):
        Polygon((0, 0), (0, 11.221032743), (1.2, 10.5), (1.2, 9.5), (2.2, 8.5), (2.2, 0), align=None)
    csk_slot_for_m2_countersunk_flat_hea_3 = revolve(axis=Axis((8.3, -6.35, 18.79), (0, 1, 0)), mode=Mode.SUBTRACT)

    # CSK SLOT for M2 Countersunk Flat Hea 3 a: CSK SLOT for M2 Countersunk Flat Hea 3 ×2
    with Locations(*[(-i * CSK_SLOT_FOR_M2_COUNTERSUNK_FLAT_HEA_3_A_PITCH, 0, 0) for i in range(1, CSK_SLOT_FOR_M2_COUNTERSUNK_FLAT_HEA_3_A_COUNT)]):
        add(csk_slot_for_m2_countersunk_flat_hea_3, mode=Mode.SUBTRACT)

    # Sketch45 → Cut-Extrude27 (cut)
    with BuildSketch(Plane(origin=(0, 0, 1.5), x_dir=(-1, 0, 0), z_dir=(0, 0, -1))):
        with Locations(Location((-15.3, 9.7, 0), (0, 0, 140.398072919))):
            Circle(SKETCH45_R)
    extrude(amount=CUT_EXTRUDE27_DEPTH, mode=Mode.SUBTRACT)

    # Sketch46 → Cut-Extrude28 (cut)
    with BuildSketch(Plane.XY.offset(-6)):
        with Locations((21.074871131, 8)):
            Rectangle(SKETCH46_W, SKETCH46_H)
        with Locations((17, 3.925128869)):
            Rectangle(SKETCH46_W_2, SKETCH46_H_2)
    extrude(amount=-CUT_EXTRUDE28_DEPTH, mode=Mode.SUBTRACT)

    # Sketch43 → Cut-Extrude25 (cut)
    with BuildSketch(Plane.XY.offset(-4).offset(CUT_EXTRUDE25_START)):
        with BuildLine():
            Line((19, 0), (18, 0))
            ThreePointArc((18, 0), (17.121320344, 2.121320344), (15, 3))
            Line((15, 3), (19, 3))
            Line((19, 3), (19, 0))
        make_face()
    extrude(amount=CUT_EXTRUDE25_DEPTH, mode=Mode.SUBTRACT)

    # Sketch42 → Cut-Extrude24 (cut)
    with BuildSketch(Plane.XY.offset(-4).offset(CUT_EXTRUDE24_START)):
        with BuildLine():
            Line((22, 6), (25, 6))
            Line((25, 6), (25, 7))
            ThreePointArc((25, 7), (22.878679656, 7.878679656), (22, 10))
            Line((22, 10), (22, 6))
        make_face()
    extrude(amount=CUT_EXTRUDE24_DEPTH, mode=Mode.SUBTRACT)

    # Sketch47 → Cut-Extrude29 (cut)
    with BuildSketch(Plane(origin=(0, 0, 4), x_dir=(-1, 0, 0), z_dir=(0, 0, -1))):
        Polygon((-19, 12.761115819), (-16.499079266, 10.69203257), (-15.305377807, 9.639286837), (-14.258167132, 8.440726637), (-12.238884181, 6), (-19, 6), align=None)
    extrude(amount=-CUT_EXTRUDE29_DEPTH, mode=Mode.SUBTRACT)


solid = part.part
